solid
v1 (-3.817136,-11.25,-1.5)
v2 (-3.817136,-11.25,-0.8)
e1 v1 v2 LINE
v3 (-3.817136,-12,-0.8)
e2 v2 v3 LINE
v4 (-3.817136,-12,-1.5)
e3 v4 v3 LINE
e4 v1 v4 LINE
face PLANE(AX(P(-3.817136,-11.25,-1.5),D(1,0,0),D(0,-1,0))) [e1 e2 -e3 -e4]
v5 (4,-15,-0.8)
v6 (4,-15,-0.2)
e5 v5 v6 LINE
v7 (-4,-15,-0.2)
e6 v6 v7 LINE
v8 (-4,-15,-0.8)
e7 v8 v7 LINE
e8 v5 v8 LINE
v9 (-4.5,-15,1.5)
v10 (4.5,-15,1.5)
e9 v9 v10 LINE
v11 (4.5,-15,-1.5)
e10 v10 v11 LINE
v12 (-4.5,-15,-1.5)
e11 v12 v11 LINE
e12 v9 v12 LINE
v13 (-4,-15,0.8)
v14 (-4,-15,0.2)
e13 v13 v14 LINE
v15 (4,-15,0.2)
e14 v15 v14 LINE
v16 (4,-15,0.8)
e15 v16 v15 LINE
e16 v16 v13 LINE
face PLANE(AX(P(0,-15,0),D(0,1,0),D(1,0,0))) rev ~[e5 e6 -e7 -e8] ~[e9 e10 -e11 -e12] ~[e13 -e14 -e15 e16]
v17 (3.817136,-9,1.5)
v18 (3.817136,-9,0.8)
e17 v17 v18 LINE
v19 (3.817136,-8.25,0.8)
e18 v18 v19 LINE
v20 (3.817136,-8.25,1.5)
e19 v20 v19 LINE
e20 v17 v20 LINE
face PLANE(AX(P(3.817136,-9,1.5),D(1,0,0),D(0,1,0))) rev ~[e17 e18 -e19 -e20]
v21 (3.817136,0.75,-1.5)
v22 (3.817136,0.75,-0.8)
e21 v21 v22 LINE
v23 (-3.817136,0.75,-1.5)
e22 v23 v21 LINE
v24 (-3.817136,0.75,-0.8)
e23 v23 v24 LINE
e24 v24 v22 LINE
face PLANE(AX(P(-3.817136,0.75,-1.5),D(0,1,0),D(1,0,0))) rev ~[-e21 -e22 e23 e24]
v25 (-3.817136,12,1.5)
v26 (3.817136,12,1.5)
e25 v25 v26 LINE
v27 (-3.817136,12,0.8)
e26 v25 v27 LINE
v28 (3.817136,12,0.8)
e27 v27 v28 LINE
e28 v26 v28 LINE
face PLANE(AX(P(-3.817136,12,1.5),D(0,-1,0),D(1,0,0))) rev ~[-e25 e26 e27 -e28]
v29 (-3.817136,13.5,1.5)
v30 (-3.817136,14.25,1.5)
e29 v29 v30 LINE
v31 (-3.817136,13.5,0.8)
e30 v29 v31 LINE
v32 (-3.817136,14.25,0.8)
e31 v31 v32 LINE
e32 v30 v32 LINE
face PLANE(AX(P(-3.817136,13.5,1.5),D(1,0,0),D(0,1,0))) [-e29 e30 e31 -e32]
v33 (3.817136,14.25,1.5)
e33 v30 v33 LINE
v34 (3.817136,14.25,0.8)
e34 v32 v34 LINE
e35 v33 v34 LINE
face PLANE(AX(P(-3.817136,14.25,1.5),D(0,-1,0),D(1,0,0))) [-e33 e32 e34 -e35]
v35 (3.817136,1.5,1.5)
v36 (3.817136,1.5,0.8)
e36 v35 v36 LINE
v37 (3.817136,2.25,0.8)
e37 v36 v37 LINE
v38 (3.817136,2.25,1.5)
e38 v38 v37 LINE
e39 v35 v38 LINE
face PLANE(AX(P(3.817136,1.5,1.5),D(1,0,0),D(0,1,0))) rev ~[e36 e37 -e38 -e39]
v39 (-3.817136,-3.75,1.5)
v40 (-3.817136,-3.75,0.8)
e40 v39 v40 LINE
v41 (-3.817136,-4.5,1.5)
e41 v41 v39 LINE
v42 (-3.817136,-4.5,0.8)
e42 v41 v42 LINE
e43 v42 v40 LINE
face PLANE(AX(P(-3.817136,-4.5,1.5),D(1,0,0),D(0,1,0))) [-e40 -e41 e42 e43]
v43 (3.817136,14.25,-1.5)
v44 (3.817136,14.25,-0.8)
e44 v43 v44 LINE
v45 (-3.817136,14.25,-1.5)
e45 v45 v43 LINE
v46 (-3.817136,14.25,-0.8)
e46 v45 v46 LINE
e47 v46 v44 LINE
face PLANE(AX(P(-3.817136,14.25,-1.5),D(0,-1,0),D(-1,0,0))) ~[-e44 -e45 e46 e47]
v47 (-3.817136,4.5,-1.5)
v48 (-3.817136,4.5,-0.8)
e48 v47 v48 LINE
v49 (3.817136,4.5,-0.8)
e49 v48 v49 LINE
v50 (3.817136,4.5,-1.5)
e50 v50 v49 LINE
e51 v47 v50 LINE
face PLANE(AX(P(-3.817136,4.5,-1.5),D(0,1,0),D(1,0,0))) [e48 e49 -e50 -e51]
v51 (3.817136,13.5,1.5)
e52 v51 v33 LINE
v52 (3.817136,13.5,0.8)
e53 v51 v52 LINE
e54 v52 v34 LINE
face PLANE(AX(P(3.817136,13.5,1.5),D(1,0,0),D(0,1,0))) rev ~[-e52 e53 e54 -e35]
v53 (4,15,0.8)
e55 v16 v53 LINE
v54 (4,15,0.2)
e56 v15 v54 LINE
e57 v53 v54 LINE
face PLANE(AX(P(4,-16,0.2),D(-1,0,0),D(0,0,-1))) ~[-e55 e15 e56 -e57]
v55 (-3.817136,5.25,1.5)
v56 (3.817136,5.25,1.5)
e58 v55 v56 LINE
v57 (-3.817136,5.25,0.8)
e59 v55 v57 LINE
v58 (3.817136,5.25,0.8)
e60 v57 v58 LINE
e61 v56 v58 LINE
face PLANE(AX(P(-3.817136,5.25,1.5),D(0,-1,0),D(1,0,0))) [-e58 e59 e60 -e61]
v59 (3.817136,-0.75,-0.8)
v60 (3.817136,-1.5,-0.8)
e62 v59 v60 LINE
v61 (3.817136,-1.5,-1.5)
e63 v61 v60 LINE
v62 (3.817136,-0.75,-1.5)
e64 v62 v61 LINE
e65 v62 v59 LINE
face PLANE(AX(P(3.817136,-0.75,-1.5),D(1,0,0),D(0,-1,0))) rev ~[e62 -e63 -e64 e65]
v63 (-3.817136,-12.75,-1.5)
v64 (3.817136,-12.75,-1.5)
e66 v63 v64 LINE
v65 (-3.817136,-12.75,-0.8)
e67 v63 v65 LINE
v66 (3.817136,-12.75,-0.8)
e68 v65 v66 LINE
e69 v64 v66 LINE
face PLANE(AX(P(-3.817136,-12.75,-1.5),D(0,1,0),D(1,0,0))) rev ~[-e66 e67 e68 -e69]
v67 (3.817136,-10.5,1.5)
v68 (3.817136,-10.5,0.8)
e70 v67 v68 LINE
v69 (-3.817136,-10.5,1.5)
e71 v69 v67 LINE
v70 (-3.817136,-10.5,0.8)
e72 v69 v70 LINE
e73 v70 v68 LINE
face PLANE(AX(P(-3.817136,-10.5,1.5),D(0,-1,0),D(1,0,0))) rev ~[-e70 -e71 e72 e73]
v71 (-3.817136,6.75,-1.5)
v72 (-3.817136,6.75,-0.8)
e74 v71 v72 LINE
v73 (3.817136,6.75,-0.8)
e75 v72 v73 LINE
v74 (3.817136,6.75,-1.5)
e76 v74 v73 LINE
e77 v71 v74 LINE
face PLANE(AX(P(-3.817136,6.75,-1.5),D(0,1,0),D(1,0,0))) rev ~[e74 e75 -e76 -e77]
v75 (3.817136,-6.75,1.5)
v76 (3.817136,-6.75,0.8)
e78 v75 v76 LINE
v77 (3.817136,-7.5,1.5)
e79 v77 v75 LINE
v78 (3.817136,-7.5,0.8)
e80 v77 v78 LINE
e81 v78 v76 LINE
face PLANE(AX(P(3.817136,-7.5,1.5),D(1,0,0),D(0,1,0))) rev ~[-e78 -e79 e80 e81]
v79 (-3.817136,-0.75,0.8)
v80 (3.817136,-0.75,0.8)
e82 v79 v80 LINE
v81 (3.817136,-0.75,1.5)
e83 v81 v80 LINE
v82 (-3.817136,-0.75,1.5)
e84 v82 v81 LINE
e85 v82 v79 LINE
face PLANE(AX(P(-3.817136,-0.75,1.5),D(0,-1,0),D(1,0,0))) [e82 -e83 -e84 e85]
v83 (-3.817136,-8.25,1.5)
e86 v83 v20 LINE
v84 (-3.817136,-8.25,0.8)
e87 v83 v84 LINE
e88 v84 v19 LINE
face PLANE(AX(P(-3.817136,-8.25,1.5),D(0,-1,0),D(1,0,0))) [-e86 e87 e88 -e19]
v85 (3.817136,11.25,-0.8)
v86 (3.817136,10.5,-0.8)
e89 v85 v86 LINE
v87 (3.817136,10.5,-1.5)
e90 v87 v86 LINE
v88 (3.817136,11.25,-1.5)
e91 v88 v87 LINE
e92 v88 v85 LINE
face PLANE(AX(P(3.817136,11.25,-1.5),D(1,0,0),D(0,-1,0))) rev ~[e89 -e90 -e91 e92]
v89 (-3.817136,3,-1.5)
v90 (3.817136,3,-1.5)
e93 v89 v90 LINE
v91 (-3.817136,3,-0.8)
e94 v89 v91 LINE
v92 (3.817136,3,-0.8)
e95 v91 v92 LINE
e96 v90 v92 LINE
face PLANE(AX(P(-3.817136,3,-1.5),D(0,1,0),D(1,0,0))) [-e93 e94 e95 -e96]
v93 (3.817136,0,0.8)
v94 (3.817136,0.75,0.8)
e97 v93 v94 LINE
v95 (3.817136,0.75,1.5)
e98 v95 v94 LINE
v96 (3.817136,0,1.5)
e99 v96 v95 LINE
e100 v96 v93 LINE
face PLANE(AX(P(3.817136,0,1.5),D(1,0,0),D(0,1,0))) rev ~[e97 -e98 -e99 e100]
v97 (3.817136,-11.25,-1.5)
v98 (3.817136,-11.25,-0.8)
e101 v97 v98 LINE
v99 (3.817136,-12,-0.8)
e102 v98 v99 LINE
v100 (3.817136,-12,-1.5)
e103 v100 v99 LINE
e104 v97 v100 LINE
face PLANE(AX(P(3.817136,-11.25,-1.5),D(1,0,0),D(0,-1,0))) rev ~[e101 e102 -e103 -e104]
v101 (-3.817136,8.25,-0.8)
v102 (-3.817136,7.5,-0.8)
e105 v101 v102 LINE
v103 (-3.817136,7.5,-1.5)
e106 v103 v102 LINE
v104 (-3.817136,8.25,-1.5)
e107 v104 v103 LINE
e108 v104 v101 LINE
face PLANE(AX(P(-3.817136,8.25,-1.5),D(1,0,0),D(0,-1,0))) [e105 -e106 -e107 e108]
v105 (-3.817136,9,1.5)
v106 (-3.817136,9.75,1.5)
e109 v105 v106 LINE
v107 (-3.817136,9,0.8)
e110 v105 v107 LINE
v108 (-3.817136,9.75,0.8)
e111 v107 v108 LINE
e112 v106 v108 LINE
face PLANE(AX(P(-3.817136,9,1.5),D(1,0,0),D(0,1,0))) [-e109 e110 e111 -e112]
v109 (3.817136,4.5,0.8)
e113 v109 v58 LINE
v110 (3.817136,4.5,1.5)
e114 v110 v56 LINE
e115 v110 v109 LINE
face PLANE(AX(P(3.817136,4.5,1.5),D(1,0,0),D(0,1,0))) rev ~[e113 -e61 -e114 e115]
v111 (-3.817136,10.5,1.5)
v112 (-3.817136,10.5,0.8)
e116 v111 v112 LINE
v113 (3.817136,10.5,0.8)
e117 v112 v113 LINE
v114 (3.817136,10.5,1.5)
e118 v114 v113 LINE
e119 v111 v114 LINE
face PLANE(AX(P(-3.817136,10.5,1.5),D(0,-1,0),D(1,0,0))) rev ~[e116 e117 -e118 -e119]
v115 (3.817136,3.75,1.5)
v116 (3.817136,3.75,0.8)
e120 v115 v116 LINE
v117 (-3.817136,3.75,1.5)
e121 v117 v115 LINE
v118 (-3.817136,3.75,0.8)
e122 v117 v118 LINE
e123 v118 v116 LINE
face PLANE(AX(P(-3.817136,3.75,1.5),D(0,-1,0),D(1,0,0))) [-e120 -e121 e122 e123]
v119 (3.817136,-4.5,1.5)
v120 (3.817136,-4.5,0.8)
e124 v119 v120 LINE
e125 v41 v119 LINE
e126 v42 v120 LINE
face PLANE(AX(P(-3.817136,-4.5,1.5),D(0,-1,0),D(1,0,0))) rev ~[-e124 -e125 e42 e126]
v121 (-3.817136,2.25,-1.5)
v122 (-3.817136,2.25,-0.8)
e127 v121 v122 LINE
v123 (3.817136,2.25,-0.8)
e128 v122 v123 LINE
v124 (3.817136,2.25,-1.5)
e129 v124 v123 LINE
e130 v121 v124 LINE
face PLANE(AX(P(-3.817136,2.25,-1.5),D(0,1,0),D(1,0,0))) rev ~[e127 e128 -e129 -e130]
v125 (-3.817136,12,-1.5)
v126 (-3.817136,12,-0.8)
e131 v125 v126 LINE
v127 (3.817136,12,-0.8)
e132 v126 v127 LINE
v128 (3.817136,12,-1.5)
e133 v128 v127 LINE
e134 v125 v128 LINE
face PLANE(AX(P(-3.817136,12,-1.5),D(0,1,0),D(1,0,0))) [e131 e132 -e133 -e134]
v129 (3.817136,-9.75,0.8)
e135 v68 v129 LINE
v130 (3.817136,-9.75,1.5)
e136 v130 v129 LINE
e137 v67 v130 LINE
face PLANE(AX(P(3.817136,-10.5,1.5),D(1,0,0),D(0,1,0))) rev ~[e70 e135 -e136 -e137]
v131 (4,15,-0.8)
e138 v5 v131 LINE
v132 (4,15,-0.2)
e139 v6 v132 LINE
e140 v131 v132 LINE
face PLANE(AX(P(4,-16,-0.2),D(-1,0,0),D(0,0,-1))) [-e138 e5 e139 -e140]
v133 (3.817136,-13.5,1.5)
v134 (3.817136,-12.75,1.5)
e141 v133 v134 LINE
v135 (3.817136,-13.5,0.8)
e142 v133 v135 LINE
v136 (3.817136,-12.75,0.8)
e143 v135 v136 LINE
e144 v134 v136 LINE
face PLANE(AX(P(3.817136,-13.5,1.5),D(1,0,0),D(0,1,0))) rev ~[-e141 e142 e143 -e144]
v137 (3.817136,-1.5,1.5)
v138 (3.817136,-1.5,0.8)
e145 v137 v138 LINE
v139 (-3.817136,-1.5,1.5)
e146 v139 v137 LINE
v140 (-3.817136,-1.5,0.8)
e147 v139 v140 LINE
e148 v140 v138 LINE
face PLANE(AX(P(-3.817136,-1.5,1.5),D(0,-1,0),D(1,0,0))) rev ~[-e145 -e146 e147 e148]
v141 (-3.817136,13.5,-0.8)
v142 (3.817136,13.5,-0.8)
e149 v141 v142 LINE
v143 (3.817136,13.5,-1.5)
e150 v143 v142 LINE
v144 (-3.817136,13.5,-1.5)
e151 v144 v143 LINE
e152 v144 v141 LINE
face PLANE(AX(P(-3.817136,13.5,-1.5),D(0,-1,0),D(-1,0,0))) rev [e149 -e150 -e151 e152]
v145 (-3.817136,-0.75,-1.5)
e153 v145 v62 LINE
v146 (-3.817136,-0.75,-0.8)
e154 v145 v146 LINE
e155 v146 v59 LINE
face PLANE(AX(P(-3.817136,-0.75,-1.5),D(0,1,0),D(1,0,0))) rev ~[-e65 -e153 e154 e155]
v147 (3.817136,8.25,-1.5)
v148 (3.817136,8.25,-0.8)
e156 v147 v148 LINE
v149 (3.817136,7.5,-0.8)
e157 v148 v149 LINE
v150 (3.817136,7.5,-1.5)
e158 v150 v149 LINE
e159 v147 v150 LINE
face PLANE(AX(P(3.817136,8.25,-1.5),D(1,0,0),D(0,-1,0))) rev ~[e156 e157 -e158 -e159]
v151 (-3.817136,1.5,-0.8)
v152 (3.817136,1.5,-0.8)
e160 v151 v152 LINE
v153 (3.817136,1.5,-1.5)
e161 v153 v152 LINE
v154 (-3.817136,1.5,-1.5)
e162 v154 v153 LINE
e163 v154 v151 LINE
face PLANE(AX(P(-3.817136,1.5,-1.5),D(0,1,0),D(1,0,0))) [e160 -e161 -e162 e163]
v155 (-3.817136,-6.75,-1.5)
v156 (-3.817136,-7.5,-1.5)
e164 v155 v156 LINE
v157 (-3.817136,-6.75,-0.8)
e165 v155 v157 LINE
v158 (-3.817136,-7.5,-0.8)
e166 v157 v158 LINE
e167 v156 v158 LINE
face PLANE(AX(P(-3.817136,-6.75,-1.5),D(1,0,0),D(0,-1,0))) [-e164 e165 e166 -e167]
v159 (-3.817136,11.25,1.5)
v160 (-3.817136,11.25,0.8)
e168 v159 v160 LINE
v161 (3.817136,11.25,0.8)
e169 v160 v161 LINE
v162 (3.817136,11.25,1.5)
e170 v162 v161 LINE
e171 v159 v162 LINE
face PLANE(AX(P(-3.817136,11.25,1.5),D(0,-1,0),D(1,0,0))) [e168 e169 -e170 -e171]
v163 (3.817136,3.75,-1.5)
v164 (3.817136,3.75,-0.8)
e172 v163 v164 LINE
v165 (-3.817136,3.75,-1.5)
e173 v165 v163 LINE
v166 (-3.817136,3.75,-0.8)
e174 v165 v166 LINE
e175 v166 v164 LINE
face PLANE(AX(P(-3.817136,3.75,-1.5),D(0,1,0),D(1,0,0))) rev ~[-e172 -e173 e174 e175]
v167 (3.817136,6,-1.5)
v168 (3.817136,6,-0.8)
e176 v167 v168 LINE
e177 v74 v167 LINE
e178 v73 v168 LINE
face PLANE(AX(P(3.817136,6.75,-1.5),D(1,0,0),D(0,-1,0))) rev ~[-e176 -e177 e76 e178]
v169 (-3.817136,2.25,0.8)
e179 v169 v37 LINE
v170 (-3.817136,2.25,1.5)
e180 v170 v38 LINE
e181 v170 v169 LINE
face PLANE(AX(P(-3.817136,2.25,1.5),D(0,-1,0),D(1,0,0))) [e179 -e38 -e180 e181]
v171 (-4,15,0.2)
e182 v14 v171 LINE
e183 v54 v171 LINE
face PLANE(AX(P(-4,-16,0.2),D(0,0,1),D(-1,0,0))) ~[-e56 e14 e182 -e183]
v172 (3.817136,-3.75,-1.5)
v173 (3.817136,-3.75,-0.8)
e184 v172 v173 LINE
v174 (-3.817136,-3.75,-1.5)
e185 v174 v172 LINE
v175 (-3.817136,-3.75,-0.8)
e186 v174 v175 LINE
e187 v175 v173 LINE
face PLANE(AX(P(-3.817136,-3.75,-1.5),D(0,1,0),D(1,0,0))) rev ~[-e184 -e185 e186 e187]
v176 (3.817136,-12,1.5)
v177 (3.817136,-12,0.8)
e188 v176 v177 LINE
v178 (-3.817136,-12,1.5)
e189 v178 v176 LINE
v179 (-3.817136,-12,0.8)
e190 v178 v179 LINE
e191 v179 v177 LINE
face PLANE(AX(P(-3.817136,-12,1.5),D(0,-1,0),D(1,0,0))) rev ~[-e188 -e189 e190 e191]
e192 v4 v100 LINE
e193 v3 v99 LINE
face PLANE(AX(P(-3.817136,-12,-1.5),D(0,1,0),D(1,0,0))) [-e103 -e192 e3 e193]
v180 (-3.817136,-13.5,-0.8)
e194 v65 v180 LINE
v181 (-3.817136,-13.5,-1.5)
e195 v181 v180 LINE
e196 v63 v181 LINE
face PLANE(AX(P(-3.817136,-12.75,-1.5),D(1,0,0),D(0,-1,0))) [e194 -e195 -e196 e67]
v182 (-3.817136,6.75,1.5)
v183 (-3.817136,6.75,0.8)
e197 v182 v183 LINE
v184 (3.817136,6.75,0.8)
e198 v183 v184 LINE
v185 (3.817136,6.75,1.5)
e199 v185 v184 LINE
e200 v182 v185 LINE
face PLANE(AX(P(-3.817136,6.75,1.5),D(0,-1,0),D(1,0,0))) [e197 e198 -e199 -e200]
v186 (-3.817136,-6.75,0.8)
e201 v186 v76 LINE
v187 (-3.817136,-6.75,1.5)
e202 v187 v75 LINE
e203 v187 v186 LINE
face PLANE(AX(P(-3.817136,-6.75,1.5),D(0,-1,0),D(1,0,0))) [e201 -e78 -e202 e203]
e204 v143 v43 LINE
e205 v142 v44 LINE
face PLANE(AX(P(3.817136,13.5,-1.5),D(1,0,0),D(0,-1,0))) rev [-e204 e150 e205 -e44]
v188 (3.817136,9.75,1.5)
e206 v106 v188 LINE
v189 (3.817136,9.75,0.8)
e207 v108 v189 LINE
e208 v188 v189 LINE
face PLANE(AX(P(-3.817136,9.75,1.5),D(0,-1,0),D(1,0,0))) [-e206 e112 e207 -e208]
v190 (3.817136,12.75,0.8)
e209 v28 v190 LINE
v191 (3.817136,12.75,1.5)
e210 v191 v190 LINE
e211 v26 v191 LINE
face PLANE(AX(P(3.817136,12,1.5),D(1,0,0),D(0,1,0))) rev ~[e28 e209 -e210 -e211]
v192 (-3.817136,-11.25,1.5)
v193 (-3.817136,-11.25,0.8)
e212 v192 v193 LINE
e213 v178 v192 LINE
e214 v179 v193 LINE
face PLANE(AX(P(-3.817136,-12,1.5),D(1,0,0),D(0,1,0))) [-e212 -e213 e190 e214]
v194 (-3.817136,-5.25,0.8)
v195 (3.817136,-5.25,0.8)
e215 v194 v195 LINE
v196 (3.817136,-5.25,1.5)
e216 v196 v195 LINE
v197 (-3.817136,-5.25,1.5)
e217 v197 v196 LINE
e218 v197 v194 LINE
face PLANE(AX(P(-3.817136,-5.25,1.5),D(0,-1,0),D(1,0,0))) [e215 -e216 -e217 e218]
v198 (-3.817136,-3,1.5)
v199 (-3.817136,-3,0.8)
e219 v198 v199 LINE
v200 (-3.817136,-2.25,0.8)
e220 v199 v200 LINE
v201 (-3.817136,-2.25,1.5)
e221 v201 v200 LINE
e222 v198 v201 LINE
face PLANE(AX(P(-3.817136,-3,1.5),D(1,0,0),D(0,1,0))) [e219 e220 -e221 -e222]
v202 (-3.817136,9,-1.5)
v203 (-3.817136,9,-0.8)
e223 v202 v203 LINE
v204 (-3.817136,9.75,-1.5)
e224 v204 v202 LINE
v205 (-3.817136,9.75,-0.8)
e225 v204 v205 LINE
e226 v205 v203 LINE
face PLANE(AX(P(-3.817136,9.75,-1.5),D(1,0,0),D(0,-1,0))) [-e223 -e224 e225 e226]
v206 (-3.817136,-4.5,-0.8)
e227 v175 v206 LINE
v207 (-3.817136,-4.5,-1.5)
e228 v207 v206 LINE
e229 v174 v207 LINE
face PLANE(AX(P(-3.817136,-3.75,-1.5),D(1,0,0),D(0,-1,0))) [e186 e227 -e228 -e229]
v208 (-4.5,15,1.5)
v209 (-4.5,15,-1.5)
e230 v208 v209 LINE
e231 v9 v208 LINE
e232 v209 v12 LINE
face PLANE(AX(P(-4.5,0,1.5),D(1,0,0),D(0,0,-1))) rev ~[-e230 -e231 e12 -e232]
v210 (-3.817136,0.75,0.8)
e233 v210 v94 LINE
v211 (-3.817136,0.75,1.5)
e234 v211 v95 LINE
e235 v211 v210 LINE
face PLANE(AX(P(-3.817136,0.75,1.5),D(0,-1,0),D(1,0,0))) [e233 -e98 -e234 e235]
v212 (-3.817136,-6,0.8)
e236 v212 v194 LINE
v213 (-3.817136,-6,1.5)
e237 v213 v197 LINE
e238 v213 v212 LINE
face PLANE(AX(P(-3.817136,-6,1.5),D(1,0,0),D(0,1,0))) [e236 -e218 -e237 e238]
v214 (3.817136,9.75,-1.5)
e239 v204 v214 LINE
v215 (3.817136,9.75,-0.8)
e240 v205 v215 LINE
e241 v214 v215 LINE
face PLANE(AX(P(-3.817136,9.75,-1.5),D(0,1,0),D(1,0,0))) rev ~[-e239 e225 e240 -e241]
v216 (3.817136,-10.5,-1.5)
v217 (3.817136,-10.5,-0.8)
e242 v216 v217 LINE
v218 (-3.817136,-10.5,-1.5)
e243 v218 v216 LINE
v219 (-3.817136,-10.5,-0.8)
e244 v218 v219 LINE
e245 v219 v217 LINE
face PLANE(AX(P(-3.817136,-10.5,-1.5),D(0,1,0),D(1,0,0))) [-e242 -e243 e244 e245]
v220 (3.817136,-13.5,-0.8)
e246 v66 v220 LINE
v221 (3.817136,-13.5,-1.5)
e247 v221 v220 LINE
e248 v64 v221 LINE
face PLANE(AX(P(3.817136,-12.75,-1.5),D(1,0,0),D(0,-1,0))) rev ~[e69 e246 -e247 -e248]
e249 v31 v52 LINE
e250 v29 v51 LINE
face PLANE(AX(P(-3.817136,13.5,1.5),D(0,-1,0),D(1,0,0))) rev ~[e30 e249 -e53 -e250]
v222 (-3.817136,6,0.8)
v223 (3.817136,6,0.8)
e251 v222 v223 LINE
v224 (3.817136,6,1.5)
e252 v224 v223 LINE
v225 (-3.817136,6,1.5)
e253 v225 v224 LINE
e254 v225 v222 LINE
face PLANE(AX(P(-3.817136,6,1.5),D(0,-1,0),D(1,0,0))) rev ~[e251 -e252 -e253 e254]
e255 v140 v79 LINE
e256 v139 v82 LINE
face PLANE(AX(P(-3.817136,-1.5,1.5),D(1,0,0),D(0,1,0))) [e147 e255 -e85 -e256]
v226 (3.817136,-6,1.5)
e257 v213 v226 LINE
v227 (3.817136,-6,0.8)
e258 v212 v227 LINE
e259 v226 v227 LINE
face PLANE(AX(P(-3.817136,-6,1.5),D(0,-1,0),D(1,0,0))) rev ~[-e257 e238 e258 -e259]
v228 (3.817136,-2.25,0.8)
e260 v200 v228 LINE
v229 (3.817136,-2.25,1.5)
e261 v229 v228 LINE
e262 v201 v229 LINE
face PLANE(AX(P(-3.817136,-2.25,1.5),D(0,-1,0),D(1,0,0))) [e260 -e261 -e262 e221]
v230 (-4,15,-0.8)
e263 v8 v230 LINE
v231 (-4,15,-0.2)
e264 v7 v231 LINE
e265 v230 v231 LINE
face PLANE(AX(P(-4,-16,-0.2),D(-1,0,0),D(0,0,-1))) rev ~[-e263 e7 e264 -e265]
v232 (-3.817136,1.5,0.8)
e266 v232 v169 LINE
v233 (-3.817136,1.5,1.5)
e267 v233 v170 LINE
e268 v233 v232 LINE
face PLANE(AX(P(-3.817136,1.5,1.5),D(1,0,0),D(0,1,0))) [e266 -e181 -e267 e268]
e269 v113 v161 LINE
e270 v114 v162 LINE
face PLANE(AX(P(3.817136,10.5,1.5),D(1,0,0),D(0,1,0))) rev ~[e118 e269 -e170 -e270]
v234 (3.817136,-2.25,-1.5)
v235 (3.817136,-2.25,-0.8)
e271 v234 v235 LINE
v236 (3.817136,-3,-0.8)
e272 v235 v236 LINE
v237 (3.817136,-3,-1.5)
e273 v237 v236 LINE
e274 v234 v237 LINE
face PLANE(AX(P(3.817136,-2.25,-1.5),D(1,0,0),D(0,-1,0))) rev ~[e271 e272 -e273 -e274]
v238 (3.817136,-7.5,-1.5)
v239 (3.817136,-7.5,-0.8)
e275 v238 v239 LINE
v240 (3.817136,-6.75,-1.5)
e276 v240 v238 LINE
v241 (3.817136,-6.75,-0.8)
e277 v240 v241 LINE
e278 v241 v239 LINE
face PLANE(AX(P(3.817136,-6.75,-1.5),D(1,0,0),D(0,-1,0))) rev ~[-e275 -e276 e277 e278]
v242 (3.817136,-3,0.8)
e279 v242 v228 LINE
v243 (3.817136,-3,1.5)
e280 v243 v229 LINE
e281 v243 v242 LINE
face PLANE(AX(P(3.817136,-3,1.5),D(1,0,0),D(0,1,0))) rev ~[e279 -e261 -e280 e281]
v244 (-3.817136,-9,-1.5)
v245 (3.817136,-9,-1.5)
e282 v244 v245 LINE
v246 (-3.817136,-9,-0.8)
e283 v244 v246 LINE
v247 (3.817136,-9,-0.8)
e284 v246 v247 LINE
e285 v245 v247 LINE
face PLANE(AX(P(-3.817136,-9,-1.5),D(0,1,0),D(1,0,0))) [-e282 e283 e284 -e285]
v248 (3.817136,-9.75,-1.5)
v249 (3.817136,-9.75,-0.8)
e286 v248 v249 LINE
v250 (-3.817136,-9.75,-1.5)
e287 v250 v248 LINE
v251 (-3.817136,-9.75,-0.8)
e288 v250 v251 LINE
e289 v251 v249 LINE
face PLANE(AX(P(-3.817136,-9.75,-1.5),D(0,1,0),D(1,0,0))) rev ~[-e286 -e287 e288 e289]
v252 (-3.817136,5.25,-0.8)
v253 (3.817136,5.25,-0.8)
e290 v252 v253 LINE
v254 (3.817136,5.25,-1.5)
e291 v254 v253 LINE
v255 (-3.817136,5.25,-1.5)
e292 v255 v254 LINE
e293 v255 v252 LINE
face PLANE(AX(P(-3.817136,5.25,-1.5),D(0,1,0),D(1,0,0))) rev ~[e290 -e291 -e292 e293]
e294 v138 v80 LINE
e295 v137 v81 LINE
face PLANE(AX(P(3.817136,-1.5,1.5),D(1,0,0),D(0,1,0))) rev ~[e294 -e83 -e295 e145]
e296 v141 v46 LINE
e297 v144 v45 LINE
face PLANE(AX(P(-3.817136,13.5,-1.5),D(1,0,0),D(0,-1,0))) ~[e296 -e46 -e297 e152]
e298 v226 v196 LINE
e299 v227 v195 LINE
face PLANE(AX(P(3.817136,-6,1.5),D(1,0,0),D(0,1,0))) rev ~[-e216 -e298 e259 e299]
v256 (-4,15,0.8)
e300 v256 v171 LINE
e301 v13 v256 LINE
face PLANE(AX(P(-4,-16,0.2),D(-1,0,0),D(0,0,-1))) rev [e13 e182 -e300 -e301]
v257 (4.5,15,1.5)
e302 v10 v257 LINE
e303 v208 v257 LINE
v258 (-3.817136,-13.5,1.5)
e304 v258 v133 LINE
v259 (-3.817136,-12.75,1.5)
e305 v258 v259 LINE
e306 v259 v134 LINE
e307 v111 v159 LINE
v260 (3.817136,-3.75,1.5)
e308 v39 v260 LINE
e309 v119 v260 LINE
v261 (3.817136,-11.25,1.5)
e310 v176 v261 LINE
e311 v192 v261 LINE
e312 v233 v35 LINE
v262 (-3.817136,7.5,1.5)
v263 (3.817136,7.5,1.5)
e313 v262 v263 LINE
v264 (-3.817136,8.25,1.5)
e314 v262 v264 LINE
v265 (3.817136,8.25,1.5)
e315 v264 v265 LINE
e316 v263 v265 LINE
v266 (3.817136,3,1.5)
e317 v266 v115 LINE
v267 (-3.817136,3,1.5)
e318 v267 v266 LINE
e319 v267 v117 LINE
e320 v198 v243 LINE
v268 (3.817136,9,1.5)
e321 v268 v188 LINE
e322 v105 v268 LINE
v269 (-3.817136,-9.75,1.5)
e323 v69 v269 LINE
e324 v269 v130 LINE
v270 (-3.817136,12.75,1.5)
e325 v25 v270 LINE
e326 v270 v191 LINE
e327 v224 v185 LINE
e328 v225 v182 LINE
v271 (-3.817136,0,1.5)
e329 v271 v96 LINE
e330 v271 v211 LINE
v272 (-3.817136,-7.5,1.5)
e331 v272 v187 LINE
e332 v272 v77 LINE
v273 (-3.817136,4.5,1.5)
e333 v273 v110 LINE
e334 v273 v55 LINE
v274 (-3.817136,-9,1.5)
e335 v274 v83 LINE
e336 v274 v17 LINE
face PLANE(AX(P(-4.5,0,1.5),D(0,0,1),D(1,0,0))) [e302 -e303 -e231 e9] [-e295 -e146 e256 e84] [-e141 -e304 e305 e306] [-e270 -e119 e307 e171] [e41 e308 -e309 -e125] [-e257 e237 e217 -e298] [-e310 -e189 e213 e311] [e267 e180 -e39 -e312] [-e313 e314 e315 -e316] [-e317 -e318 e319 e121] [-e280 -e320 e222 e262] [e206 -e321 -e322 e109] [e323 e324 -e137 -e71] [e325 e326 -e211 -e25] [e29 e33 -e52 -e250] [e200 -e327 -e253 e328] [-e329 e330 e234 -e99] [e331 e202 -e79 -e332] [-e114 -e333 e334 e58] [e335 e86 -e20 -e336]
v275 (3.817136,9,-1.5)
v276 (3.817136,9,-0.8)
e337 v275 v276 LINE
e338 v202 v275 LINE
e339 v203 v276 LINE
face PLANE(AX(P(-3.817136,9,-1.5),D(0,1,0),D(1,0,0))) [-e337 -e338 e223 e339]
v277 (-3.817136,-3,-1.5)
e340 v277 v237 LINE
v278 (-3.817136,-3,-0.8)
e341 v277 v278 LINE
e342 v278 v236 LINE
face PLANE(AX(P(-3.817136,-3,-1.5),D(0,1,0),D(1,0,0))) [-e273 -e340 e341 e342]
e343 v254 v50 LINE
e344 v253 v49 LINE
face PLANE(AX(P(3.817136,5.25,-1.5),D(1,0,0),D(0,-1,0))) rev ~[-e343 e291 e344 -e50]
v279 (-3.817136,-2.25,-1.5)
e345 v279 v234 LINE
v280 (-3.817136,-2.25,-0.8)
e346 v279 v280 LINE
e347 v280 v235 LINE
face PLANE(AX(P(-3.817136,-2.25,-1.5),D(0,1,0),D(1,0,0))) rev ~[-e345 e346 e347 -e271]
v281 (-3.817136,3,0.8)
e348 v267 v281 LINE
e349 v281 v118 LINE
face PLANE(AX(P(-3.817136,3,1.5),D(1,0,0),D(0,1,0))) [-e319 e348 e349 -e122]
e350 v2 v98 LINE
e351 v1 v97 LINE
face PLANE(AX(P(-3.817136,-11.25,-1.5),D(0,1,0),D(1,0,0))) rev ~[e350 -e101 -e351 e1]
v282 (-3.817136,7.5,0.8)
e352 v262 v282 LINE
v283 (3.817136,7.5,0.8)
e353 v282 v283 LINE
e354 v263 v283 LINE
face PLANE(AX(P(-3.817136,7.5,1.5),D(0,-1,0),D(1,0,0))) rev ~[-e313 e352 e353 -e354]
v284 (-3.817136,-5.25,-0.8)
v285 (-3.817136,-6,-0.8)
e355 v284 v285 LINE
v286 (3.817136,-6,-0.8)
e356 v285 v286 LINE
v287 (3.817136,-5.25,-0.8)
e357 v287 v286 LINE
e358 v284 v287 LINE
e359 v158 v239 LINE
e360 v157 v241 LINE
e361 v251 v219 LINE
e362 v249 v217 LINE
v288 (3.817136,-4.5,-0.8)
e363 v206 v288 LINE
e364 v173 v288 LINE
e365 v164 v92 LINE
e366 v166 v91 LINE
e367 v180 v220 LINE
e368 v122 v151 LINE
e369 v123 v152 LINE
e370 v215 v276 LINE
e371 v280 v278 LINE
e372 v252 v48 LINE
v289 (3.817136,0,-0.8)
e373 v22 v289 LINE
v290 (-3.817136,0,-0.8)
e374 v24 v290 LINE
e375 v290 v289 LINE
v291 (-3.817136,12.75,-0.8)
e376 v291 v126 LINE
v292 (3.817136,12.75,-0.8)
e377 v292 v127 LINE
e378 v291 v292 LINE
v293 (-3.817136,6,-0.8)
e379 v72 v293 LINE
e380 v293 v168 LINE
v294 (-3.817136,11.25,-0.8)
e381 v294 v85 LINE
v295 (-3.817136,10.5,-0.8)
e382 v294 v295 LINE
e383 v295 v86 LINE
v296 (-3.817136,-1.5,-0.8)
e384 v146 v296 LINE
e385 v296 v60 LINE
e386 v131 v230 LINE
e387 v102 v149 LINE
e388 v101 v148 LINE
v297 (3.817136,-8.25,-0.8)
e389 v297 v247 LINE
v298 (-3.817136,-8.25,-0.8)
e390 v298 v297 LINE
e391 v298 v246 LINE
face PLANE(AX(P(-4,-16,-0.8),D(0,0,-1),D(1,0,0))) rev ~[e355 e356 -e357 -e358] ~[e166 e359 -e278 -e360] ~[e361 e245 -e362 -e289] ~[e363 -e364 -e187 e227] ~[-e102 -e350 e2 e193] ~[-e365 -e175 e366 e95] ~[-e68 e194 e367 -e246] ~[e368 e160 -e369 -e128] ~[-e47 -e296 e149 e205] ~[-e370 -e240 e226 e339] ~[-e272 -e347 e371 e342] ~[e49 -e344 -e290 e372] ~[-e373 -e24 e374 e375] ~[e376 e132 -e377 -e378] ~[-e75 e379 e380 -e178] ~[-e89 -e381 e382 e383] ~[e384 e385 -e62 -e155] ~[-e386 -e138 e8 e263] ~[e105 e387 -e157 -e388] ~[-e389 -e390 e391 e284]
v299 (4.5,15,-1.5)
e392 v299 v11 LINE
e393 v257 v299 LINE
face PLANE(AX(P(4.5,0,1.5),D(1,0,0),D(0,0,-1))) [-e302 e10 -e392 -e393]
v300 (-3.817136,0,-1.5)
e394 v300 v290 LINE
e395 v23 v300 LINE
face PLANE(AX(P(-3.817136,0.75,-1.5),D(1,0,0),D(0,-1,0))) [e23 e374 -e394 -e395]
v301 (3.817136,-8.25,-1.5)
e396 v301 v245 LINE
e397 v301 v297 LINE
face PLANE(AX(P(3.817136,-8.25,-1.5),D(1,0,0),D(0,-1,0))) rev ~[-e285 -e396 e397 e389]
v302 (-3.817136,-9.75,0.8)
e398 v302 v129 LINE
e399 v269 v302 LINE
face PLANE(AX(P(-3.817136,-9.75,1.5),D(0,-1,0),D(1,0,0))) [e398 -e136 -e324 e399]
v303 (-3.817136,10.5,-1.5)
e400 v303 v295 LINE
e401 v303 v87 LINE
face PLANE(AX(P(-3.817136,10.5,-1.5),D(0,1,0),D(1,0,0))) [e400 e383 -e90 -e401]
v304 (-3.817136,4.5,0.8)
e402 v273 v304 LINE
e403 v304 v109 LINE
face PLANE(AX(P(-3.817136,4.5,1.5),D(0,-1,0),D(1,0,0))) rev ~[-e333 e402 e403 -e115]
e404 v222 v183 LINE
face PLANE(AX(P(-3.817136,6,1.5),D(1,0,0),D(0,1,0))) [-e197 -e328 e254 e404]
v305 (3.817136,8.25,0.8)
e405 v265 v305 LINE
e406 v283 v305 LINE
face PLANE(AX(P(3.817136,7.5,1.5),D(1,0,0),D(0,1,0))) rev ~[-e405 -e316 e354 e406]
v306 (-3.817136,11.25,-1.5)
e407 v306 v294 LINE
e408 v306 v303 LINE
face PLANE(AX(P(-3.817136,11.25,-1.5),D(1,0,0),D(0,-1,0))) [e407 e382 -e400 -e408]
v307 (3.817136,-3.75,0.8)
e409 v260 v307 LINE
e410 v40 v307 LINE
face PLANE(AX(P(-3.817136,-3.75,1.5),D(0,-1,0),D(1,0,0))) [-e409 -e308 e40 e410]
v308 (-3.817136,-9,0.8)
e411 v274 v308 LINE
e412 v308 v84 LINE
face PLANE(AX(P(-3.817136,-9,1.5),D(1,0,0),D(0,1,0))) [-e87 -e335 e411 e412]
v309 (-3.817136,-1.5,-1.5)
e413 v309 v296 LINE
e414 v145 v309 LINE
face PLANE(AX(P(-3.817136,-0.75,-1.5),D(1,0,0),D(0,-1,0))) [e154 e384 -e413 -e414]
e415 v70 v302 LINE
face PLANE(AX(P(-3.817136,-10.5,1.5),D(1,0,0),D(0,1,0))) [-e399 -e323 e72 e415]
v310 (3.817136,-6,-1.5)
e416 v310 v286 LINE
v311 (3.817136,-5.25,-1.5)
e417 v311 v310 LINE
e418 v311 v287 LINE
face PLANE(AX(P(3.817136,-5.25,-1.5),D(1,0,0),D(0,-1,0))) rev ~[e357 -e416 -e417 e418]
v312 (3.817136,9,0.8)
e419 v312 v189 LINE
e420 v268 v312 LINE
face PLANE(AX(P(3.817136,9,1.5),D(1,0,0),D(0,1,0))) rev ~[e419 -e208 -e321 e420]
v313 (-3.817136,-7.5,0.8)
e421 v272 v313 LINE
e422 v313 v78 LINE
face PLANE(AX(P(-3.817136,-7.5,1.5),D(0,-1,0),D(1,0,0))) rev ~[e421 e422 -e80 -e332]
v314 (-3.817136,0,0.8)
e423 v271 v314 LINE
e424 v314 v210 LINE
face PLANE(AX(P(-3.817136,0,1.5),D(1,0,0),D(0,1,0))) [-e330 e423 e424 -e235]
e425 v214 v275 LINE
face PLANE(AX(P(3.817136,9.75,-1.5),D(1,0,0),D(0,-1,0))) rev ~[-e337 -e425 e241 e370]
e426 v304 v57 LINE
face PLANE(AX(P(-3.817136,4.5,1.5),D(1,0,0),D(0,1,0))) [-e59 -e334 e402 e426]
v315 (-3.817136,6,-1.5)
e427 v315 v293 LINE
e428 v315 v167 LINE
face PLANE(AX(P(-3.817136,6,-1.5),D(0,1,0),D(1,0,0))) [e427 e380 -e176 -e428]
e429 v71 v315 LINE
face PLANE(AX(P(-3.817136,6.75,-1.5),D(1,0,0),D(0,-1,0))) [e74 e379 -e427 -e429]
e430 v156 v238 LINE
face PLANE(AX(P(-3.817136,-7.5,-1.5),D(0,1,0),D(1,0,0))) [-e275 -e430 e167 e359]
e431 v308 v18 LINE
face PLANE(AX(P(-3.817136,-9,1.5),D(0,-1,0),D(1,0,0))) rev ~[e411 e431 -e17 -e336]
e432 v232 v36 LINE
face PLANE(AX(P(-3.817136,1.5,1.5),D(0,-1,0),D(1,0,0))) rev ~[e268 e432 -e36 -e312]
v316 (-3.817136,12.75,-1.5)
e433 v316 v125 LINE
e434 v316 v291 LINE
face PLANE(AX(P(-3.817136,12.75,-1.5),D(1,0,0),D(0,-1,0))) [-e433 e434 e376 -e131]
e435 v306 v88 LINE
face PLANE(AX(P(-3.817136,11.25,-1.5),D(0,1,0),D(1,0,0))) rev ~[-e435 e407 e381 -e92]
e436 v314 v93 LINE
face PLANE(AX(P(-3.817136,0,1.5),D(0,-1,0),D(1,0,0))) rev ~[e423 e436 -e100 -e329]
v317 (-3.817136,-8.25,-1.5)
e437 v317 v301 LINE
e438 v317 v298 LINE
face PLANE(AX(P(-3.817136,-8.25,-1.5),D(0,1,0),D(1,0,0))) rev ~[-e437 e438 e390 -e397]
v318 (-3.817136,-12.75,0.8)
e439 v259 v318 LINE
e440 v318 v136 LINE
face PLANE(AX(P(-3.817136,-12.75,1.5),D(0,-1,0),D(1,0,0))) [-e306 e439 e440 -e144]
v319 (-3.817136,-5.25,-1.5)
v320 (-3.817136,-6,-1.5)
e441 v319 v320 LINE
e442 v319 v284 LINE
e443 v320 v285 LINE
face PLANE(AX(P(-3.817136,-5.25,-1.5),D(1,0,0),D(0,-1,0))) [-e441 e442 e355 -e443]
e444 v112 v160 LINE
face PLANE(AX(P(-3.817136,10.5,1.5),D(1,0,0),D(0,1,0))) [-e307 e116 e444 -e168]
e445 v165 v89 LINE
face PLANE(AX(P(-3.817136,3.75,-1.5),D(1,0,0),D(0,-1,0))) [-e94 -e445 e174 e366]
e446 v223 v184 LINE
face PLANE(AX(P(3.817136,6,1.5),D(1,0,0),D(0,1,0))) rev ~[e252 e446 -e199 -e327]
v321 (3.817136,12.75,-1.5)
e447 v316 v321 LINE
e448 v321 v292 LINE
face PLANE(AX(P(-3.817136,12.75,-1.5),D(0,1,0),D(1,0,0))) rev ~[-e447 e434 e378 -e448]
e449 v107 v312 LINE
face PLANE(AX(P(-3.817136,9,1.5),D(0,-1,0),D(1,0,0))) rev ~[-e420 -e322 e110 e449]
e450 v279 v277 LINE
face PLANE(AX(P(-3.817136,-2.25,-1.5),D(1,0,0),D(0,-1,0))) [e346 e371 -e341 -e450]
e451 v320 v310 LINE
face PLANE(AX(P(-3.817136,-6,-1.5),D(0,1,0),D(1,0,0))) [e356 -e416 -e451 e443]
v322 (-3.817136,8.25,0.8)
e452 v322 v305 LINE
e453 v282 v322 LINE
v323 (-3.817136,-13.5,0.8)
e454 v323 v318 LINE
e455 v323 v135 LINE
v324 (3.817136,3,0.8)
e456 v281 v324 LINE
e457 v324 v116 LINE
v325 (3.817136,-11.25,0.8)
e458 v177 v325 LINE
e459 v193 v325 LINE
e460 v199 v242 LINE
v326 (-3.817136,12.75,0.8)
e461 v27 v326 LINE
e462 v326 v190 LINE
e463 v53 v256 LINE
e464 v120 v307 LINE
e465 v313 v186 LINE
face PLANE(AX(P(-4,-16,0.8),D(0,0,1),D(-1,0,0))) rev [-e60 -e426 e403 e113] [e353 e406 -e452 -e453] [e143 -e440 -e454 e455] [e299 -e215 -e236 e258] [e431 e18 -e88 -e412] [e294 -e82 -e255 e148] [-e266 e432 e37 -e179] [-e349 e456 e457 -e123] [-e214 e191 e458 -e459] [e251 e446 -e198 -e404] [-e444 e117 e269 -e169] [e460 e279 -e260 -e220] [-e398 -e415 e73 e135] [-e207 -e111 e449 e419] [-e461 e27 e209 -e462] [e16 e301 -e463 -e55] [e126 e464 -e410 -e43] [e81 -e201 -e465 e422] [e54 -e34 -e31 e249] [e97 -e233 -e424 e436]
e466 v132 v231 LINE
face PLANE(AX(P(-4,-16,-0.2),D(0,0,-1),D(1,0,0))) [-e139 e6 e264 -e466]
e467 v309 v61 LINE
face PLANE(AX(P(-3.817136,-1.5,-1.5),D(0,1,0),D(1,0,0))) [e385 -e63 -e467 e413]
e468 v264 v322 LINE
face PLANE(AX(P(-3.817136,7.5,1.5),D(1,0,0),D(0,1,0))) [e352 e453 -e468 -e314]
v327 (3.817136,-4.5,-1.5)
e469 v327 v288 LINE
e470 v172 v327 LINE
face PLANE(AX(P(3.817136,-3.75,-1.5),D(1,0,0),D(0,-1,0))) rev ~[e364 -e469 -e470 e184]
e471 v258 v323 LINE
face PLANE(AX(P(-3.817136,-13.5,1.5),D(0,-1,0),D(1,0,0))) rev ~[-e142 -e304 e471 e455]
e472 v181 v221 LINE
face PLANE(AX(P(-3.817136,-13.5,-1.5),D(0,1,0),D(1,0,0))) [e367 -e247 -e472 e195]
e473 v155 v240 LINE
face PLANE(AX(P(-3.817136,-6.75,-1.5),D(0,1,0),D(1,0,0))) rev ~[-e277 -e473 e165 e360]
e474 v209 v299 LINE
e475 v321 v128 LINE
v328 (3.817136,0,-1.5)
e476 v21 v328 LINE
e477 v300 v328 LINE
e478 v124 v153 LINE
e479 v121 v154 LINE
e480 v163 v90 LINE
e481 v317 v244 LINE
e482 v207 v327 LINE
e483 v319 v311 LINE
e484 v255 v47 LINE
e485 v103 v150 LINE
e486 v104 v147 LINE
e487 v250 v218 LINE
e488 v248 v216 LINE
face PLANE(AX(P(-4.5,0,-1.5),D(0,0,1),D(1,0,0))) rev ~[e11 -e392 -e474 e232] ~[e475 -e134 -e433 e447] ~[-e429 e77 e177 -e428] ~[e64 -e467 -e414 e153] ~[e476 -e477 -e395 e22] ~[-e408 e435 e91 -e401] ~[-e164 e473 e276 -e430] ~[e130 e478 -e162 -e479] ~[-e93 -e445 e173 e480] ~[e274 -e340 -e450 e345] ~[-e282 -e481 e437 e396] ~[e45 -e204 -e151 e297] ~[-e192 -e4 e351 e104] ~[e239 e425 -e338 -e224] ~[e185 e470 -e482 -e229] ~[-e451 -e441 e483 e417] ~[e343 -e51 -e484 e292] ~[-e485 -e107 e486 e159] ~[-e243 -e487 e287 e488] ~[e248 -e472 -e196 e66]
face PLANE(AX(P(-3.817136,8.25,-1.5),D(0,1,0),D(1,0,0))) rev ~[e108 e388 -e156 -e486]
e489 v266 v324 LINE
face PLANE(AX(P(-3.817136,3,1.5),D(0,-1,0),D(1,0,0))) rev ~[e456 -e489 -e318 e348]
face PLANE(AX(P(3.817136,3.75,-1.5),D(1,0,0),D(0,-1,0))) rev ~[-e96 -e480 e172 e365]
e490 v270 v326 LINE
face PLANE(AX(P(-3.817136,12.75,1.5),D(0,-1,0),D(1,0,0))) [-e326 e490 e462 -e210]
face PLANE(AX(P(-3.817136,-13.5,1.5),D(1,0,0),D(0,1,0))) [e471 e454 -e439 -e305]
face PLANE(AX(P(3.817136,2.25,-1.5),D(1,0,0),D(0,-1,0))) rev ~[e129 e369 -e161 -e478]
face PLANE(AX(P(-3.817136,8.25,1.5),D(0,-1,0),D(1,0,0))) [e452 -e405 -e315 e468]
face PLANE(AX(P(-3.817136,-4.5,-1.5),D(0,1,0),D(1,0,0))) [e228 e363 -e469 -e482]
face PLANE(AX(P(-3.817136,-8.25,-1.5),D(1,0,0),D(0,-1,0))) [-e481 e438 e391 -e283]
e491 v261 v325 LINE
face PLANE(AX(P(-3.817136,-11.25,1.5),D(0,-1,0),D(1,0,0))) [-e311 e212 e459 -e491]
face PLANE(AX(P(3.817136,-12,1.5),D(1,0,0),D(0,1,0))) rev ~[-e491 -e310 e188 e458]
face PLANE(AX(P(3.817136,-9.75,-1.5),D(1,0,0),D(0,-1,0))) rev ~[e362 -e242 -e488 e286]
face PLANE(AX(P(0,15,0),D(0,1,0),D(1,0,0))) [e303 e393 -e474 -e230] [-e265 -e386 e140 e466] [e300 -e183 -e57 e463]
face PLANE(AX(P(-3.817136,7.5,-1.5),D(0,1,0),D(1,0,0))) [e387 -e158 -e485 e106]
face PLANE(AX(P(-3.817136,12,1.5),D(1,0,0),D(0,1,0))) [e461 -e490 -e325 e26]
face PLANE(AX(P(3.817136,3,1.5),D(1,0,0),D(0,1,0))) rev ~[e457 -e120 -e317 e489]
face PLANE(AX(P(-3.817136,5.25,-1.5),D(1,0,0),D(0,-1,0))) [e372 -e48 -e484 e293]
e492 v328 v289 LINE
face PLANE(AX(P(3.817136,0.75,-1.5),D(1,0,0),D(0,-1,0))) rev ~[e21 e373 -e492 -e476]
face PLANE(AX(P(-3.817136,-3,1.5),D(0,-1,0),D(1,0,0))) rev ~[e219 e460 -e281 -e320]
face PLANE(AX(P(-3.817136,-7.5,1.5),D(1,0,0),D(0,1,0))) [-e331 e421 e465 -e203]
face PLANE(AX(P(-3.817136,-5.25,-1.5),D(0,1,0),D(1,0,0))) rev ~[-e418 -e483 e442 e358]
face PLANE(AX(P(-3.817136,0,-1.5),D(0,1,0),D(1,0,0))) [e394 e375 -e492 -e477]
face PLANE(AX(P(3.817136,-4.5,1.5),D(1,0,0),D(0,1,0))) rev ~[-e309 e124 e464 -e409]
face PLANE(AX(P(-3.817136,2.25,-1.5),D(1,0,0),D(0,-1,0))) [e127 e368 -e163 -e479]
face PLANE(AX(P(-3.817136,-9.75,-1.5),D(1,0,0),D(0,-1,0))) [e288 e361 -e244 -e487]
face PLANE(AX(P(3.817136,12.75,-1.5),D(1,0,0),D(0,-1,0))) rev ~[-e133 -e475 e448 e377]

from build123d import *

# Parameters (mm, degrees)
SKETCH1_W                = 9
SKETCH1_H                = 3
BOSS_EXTRUDE1_DEPTH      = 15
CUT_EXTRUDE1_START       = -31
SKETCH2_W                = 8
SKETCH2_H                = 0.6
CUT_EXTRUDE1_DEPTH       = 32
SKETCH3_W                = 7.634272068
SKETCH3_H                = 0.75
CUT_EXTRUDE2_DEPTH       = 0.7
LPATTERN1_COUNT          = 19
LPATTERN1_PITCH          = 1.5
MIRROR2_COPY_1_SKETCH_W  = 7.634272068
MIRROR2_COPY_1_SKETCH_H  = 0.75
MIRROR2_COPY_1_DEPTH     = 0.7
MIRROR2_COPY_2_SKETCH_W  = 7.634272068
MIRROR2_COPY_2_SKETCH_H  = 0.75
MIRROR2_COPY_2_DEPTH     = 0.7
MIRROR2_COPY_3_SKETCH_W  = 7.634272068
MIRROR2_COPY_3_SKETCH_H  = 0.75
MIRROR2_COPY_3_DEPTH     = 0.7
MIRROR2_COPY_4_SKETCH_W  = 7.634272068
MIRROR2_COPY_4_SKETCH_H  = 0.75
MIRROR2_COPY_4_DEPTH     = 0.7
MIRROR2_COPY_5_SKETCH_W  = 7.634272068
MIRROR2_COPY_5_SKETCH_H  = 0.75
MIRROR2_COPY_5_DEPTH     = 0.7
MIRROR2_COPY_6_SKETCH_W  = 7.634272068
MIRROR2_COPY_6_SKETCH_H  = 0.75
MIRROR2_COPY_6_DEPTH     = 0.7
MIRROR2_COPY_7_SKETCH_W  = 7.634272068
MIRROR2_COPY_7_SKETCH_H  = 0.75
MIRROR2_COPY_7_DEPTH     = 0.7
MIRROR2_COPY_8_SKETCH_W  = 7.634272068
MIRROR2_COPY_8_SKETCH_H  = 0.75
MIRROR2_COPY_8_DEPTH     = 0.7
MIRROR2_COPY_9_SKETCH_W  = 7.634272068
MIRROR2_COPY_9_SKETCH_H  = 0.75
MIRROR2_COPY_9_DEPTH     = 0.7
MIRROR2_COPY_10_SKETCH_W = 7.634272068
MIRROR2_COPY_10_SKETCH_H = 0.75
MIRROR2_COPY_10_DEPTH    = 0.7
MIRROR2_COPY_11_SKETCH_W = 7.634272068
MIRROR2_COPY_11_SKETCH_H = 0.75
MIRROR2_COPY_11_DEPTH    = 0.7
MIRROR2_COPY_12_SKETCH_W = 7.634272068
MIRROR2_COPY_12_SKETCH_H = 0.75
MIRROR2_COPY_12_DEPTH    = 0.7
MIRROR2_COPY_13_SKETCH_W = 7.634272068
MIRROR2_COPY_13_SKETCH_H = 0.75
MIRROR2_COPY_13_DEPTH    = 0.7
MIRROR2_COPY_14_SKETCH_W = 7.634272068
MIRROR2_COPY_14_SKETCH_H = 0.75
MIRROR2_COPY_14_DEPTH    = 0.7
MIRROR2_COPY_15_SKETCH_W = 7.634272068
MIRROR2_COPY_15_SKETCH_H = 0.75
MIRROR2_COPY_15_DEPTH    = 0.7
MIRROR2_COPY_16_SKETCH_W = 7.634272068
MIRROR2_COPY_16_SKETCH_H = 0.75
MIRROR2_COPY_16_DEPTH    = 0.7
MIRROR2_COPY_17_SKETCH_W = 7.634272068
MIRROR2_COPY_17_SKETCH_H = 0.75
MIRROR2_COPY_17_DEPTH    = 0.7
MIRROR2_COPY_18_SKETCH_W = 7.634272068
MIRROR2_COPY_18_SKETCH_H = 0.75
MIRROR2_COPY_18_DEPTH    = 0.7


with BuildPart() as part:
    # Sketch1 → Boss-Extrude1 (new body, symmetric)
    with BuildSketch(Plane(origin=(0, 0, 0), x_dir=(1, 0, 0), z_dir=(0, 1, 0))):
        Rectangle(SKETCH1_W, SKETCH1_H)
    extrude(amount=BOSS_EXTRUDE1_DEPTH, both=True)

    # Sketch2 → Cut-Extrude1 (cut)
    with BuildSketch(Plane(origin=(0, 15, 0), x_dir=(1, 0, 0), z_dir=(0, 1, 0)).offset(CUT_EXTRUDE1_START)):
        with Locations((0, 0.5)):
            Rectangle(SKETCH2_W, SKETCH2_H)
    cut_extrude1 = extrude(amount=CUT_EXTRUDE1_DEPTH, mode=Mode.SUBTRACT)

    # Mirror1: Cut-Extrude1 across plane
    add(cut_extrude1.mirror(Plane.XY), mode=Mode.SUBTRACT)

    # Sketch3 → Cut-Extrude2 (cut)
    with BuildSketch(Plane.XY.offset(1.5)):
        with Locations((0, 13.875)):
            Rectangle(SKETCH3_W, SKETCH3_H)
    cut_extrude2 = extrude(amount=-CUT_EXTRUDE2_DEPTH, mode=Mode.SUBTRACT)

    # LPattern1: Cut-Extrude2 ×19
    with Locations(*[(0, -i * LPATTERN1_PITCH, 0) for i in range(1, LPATTERN1_COUNT)]):
        add(cut_extrude2, mode=Mode.SUBTRACT)

    # Mirror2: Cut-Extrude2 across plane
    add(cut_extrude2.mirror(Plane.XY), mode=Mode.SUBTRACT)

    # Mirror2 copy 1 sketch → Mirror2 copy 1 (cut)
    with BuildSketch(Plane(origin=(0, -1.5, -1.5), x_dir=(1, 0, 0), z_dir=(0, 0, -1))):
        with Locations((0, -13.875)):
            Rectangle(MIRROR2_COPY_1_SKETCH_W, MIRROR2_COPY_1_SKETCH_H)
    extrude(amount=-MIRROR2_COPY_1_DEPTH, mode=Mode.SUBTRACT)

    # Mirror2 copy 2 sketch → Mirror2 copy 2 (cut)
    with BuildSketch(Plane(origin=(0, -3, -1.5), x_dir=(1, 0, 0), z_dir=(0, 0, -1))):
        with Locations((0, -13.875)):
            Rectangle(MIRROR2_COPY_2_SKETCH_W, MIRROR2_COPY_2_SKETCH_H)
    extrude(amount=-MIRROR2_COPY_2_DEPTH, mode=Mode.SUBTRACT)

    # Mirror2 copy 3 sketch → Mirror2 copy 3 (cut)
    with BuildSketch(Plane(origin=(0, -4.5, -1.5), x_dir=(1, 0, 0), z_dir=(0, 0, -1))):
        with Locations((0, -13.875)):
            Rectangle(MIRROR2_COPY_3_SKETCH_W, MIRROR2_COPY_3_SKETCH_H)
    extrude(amount=-MIRROR2_COPY_3_DEPTH, mode=Mode.SUBTRACT)

    # Mirror2 copy 4 sketch → Mirror2 copy 4 (cut)
    with BuildSketch(Plane(origin=(0, -6, -1.5), x_dir=(1, 0, 0), z_dir=(0, 0, -1))):
        with Locations((0, -13.875)):
            Rectangle(MIRROR2_COPY_4_SKETCH_W, MIRROR2_COPY_4_SKETCH_H)
    extrude(amount=-MIRROR2_COPY_4_DEPTH, mode=Mode.SUBTRACT)

    # Mirror2 copy 5 sketch → Mirror2 copy 5 (cut)
    with BuildSketch(Plane(origin=(0, -7.5, -1.5), x_dir=(1, 0, 0), z_dir=(0, 0, -1))):
        with Locations((0, -13.875)):
            Rectangle(MIRROR2_COPY_5_SKETCH_W, MIRROR2_COPY_5_SKETCH_H)
    extrude(amount=-MIRROR2_COPY_5_DEPTH, mode=Mode.SUBTRACT)

    # Mirror2 copy 6 sketch → Mirror2 copy 6 (cut)
    with BuildSketch(Plane(origin=(0, -9, -1.5), x_dir=(1, 0, 0), z_dir=(0, 0, -1))):
        with Locations((0, -13.875)):
            Rectangle(MIRROR2_COPY_6_SKETCH_W, MIRROR2_COPY_6_SKETCH_H)
    extrude(amount=-MIRROR2_COPY_6_DEPTH, mode=Mode.SUBTRACT)

    # Mirror2 copy 7 sketch → Mirror2 copy 7 (cut)
    with BuildSketch(Plane(origin=(0, -10.5, -1.5), x_dir=(1, 0, 0), z_dir=(0, 0, -1))):
        with Locations((0, -13.875)):
            Rectangle(MIRROR2_COPY_7_SKETCH_W, MIRROR2_COPY_7_SKETCH_H)
    extrude(amount=-MIRROR2_COPY_7_DEPTH, mode=Mode.SUBTRACT)

    # Mirror2 copy 8 sketch → Mirror2 copy 8 (cut)
    with BuildSketch(Plane(origin=(0, -12, -1.5), x_dir=(1, 0, 0), z_dir=(0, 0, -1))):
        with Locations((0, -13.875)):
            Rectangle(MIRROR2_COPY_8_SKETCH_W, MIRROR2_COPY_8_SKETCH_H)
    extrude(amount=-MIRROR2_COPY_8_DEPTH, mode=Mode.SUBTRACT)

    # Mirror2 copy 9 sketch → Mirror2 copy 9 (cut)
    with BuildSketch(Plane(origin=(0, -13.5, -1.5), x_dir=(1, 0, 0), z_dir=(0, 0, -1))):
        with Locations((0, -13.875)):
            Rectangle(MIRROR2_COPY_9_SKETCH_W, MIRROR2_COPY_9_SKETCH_H)
    extrude(amount=-MIRROR2_COPY_9_DEPTH, mode=Mode.SUBTRACT)

    # Mirror2 copy 10 sketch → Mirror2 copy 10 (cut)
    with BuildSketch(Plane(origin=(0, -15, -1.5), x_dir=(1, 0, 0), z_dir=(0, 0, -1))):
        with Locations((0, -13.875)):
            Rectangle(MIRROR2_COPY_10_SKETCH_W, MIRROR2_COPY_10_SKETCH_H)
    extrude(amount=-MIRROR2_COPY_10_DEPTH, mode=Mode.SUBTRACT)

    # Mirror2 copy 11 sketch → Mirror2 copy 11 (cut)
    with BuildSketch(Plane(origin=(0, -16.5, -1.5), x_dir=(1, 0, 0), z_dir=(0, 0, -1))):
        with Locations((0, -13.875)):
            Rectangle(MIRROR2_COPY_11_SKETCH_W, MIRROR2_COPY_11_SKETCH_H)
    extrude(amount=-MIRROR2_COPY_11_DEPTH, mode=Mode.SUBTRACT)

    # Mirror2 copy 12 sketch → Mirror2 copy 12 (cut)
    with BuildSketch(Plane(origin=(0, -18, -1.5), x_dir=(1, 0, 0), z_dir=(0, 0, -1))):
        with Locations((0, -13.875)):
            Rectangle(MIRROR2_COPY_12_SKETCH_W, MIRROR2_COPY_12_SKETCH_H)
    extrude(amount=-MIRROR2_COPY_12_DEPTH, mode=Mode.SUBTRACT)

    # Mirror2 copy 13 sketch → Mirror2 copy 13 (cut)
    with BuildSketch(Plane(origin=(0, -19.5, -1.5), x_dir=(1, 0, 0), z_dir=(0, 0, -1))):
        with Locations((0, -13.875)):
            Rectangle(MIRROR2_COPY_13_SKETCH_W, MIRROR2_COPY_13_SKETCH_H)
    extrude(amount=-MIRROR2_COPY_13_DEPTH, mode=Mode.SUBTRACT)

    # Mirror2 copy 14 sketch → Mirror2 copy 14 (cut)
    with BuildSketch(Plane(origin=(0, -21, -1.5), x_dir=(1, 0, 0), z_dir=(0, 0, -1))):
        with Locations((0, -13.875)):
            Rectangle(MIRROR2_COPY_14_SKETCH_W, MIRROR2_COPY_14_SKETCH_H)
    extrude(amount=-MIRROR2_COPY_14_DEPTH, mode=Mode.SUBTRACT)

    # Mirror2 copy 15 sketch → Mirror2 copy 15 (cut)
    with BuildSketch(Plane(origin=(0, -22.5, -1.5), x_dir=(1, 0, 0), z_dir=(0, 0, -1))):
        with Locations((0, -13.875)):
            Rectangle(MIRROR2_COPY_15_SKETCH_W, MIRROR2_COPY_15_SKETCH_H)
    extrude(amount=-MIRROR2_COPY_15_DEPTH, mode=Mode.SUBTRACT)

    # Mirror2 copy 16 sketch → Mirror2 copy 16 (cut)
    with BuildSketch(Plane(origin=(0, -24, -1.5), x_dir=(1, 0, 0), z_dir=(0, 0, -1))):
        with Locations((0, -13.875)):
            Rectangle(MIRROR2_COPY_16_SKETCH_W, MIRROR2_COPY_16_SKETCH_H)
    extrude(amount=-MIRROR2_COPY_16_DEPTH, mode=Mode.SUBTRACT)

    # Mirror2 copy 17 sketch → Mirror2 copy 17 (cut)
    with BuildSketch(Plane(origin=(0, -25.5, -1.5), x_dir=(1, 0, 0), z_dir=(0, 0, -1))):
        with Locations((0, -13.875)):
            Rectangle(MIRROR2_COPY_17_SKETCH_W, MIRROR2_COPY_17_SKETCH_H)
    extrude(amount=-MIRROR2_COPY_17_DEPTH, mode=Mode.SUBTRACT)

    # Mirror2 copy 18 sketch → Mirror2 copy 18 (cut)
    with BuildSketch(Plane(origin=(0, -27, -1.5), x_dir=(1, 0, 0), z_dir=(0, 0, -1))):
        with Locations((0, -13.875)):
            Rectangle(MIRROR2_COPY_18_SKETCH_W, MIRROR2_COPY_18_SKETCH_H)
    extrude(amount=-MIRROR2_COPY_18_DEPTH, mode=Mode.SUBTRACT)


solid = part.part
